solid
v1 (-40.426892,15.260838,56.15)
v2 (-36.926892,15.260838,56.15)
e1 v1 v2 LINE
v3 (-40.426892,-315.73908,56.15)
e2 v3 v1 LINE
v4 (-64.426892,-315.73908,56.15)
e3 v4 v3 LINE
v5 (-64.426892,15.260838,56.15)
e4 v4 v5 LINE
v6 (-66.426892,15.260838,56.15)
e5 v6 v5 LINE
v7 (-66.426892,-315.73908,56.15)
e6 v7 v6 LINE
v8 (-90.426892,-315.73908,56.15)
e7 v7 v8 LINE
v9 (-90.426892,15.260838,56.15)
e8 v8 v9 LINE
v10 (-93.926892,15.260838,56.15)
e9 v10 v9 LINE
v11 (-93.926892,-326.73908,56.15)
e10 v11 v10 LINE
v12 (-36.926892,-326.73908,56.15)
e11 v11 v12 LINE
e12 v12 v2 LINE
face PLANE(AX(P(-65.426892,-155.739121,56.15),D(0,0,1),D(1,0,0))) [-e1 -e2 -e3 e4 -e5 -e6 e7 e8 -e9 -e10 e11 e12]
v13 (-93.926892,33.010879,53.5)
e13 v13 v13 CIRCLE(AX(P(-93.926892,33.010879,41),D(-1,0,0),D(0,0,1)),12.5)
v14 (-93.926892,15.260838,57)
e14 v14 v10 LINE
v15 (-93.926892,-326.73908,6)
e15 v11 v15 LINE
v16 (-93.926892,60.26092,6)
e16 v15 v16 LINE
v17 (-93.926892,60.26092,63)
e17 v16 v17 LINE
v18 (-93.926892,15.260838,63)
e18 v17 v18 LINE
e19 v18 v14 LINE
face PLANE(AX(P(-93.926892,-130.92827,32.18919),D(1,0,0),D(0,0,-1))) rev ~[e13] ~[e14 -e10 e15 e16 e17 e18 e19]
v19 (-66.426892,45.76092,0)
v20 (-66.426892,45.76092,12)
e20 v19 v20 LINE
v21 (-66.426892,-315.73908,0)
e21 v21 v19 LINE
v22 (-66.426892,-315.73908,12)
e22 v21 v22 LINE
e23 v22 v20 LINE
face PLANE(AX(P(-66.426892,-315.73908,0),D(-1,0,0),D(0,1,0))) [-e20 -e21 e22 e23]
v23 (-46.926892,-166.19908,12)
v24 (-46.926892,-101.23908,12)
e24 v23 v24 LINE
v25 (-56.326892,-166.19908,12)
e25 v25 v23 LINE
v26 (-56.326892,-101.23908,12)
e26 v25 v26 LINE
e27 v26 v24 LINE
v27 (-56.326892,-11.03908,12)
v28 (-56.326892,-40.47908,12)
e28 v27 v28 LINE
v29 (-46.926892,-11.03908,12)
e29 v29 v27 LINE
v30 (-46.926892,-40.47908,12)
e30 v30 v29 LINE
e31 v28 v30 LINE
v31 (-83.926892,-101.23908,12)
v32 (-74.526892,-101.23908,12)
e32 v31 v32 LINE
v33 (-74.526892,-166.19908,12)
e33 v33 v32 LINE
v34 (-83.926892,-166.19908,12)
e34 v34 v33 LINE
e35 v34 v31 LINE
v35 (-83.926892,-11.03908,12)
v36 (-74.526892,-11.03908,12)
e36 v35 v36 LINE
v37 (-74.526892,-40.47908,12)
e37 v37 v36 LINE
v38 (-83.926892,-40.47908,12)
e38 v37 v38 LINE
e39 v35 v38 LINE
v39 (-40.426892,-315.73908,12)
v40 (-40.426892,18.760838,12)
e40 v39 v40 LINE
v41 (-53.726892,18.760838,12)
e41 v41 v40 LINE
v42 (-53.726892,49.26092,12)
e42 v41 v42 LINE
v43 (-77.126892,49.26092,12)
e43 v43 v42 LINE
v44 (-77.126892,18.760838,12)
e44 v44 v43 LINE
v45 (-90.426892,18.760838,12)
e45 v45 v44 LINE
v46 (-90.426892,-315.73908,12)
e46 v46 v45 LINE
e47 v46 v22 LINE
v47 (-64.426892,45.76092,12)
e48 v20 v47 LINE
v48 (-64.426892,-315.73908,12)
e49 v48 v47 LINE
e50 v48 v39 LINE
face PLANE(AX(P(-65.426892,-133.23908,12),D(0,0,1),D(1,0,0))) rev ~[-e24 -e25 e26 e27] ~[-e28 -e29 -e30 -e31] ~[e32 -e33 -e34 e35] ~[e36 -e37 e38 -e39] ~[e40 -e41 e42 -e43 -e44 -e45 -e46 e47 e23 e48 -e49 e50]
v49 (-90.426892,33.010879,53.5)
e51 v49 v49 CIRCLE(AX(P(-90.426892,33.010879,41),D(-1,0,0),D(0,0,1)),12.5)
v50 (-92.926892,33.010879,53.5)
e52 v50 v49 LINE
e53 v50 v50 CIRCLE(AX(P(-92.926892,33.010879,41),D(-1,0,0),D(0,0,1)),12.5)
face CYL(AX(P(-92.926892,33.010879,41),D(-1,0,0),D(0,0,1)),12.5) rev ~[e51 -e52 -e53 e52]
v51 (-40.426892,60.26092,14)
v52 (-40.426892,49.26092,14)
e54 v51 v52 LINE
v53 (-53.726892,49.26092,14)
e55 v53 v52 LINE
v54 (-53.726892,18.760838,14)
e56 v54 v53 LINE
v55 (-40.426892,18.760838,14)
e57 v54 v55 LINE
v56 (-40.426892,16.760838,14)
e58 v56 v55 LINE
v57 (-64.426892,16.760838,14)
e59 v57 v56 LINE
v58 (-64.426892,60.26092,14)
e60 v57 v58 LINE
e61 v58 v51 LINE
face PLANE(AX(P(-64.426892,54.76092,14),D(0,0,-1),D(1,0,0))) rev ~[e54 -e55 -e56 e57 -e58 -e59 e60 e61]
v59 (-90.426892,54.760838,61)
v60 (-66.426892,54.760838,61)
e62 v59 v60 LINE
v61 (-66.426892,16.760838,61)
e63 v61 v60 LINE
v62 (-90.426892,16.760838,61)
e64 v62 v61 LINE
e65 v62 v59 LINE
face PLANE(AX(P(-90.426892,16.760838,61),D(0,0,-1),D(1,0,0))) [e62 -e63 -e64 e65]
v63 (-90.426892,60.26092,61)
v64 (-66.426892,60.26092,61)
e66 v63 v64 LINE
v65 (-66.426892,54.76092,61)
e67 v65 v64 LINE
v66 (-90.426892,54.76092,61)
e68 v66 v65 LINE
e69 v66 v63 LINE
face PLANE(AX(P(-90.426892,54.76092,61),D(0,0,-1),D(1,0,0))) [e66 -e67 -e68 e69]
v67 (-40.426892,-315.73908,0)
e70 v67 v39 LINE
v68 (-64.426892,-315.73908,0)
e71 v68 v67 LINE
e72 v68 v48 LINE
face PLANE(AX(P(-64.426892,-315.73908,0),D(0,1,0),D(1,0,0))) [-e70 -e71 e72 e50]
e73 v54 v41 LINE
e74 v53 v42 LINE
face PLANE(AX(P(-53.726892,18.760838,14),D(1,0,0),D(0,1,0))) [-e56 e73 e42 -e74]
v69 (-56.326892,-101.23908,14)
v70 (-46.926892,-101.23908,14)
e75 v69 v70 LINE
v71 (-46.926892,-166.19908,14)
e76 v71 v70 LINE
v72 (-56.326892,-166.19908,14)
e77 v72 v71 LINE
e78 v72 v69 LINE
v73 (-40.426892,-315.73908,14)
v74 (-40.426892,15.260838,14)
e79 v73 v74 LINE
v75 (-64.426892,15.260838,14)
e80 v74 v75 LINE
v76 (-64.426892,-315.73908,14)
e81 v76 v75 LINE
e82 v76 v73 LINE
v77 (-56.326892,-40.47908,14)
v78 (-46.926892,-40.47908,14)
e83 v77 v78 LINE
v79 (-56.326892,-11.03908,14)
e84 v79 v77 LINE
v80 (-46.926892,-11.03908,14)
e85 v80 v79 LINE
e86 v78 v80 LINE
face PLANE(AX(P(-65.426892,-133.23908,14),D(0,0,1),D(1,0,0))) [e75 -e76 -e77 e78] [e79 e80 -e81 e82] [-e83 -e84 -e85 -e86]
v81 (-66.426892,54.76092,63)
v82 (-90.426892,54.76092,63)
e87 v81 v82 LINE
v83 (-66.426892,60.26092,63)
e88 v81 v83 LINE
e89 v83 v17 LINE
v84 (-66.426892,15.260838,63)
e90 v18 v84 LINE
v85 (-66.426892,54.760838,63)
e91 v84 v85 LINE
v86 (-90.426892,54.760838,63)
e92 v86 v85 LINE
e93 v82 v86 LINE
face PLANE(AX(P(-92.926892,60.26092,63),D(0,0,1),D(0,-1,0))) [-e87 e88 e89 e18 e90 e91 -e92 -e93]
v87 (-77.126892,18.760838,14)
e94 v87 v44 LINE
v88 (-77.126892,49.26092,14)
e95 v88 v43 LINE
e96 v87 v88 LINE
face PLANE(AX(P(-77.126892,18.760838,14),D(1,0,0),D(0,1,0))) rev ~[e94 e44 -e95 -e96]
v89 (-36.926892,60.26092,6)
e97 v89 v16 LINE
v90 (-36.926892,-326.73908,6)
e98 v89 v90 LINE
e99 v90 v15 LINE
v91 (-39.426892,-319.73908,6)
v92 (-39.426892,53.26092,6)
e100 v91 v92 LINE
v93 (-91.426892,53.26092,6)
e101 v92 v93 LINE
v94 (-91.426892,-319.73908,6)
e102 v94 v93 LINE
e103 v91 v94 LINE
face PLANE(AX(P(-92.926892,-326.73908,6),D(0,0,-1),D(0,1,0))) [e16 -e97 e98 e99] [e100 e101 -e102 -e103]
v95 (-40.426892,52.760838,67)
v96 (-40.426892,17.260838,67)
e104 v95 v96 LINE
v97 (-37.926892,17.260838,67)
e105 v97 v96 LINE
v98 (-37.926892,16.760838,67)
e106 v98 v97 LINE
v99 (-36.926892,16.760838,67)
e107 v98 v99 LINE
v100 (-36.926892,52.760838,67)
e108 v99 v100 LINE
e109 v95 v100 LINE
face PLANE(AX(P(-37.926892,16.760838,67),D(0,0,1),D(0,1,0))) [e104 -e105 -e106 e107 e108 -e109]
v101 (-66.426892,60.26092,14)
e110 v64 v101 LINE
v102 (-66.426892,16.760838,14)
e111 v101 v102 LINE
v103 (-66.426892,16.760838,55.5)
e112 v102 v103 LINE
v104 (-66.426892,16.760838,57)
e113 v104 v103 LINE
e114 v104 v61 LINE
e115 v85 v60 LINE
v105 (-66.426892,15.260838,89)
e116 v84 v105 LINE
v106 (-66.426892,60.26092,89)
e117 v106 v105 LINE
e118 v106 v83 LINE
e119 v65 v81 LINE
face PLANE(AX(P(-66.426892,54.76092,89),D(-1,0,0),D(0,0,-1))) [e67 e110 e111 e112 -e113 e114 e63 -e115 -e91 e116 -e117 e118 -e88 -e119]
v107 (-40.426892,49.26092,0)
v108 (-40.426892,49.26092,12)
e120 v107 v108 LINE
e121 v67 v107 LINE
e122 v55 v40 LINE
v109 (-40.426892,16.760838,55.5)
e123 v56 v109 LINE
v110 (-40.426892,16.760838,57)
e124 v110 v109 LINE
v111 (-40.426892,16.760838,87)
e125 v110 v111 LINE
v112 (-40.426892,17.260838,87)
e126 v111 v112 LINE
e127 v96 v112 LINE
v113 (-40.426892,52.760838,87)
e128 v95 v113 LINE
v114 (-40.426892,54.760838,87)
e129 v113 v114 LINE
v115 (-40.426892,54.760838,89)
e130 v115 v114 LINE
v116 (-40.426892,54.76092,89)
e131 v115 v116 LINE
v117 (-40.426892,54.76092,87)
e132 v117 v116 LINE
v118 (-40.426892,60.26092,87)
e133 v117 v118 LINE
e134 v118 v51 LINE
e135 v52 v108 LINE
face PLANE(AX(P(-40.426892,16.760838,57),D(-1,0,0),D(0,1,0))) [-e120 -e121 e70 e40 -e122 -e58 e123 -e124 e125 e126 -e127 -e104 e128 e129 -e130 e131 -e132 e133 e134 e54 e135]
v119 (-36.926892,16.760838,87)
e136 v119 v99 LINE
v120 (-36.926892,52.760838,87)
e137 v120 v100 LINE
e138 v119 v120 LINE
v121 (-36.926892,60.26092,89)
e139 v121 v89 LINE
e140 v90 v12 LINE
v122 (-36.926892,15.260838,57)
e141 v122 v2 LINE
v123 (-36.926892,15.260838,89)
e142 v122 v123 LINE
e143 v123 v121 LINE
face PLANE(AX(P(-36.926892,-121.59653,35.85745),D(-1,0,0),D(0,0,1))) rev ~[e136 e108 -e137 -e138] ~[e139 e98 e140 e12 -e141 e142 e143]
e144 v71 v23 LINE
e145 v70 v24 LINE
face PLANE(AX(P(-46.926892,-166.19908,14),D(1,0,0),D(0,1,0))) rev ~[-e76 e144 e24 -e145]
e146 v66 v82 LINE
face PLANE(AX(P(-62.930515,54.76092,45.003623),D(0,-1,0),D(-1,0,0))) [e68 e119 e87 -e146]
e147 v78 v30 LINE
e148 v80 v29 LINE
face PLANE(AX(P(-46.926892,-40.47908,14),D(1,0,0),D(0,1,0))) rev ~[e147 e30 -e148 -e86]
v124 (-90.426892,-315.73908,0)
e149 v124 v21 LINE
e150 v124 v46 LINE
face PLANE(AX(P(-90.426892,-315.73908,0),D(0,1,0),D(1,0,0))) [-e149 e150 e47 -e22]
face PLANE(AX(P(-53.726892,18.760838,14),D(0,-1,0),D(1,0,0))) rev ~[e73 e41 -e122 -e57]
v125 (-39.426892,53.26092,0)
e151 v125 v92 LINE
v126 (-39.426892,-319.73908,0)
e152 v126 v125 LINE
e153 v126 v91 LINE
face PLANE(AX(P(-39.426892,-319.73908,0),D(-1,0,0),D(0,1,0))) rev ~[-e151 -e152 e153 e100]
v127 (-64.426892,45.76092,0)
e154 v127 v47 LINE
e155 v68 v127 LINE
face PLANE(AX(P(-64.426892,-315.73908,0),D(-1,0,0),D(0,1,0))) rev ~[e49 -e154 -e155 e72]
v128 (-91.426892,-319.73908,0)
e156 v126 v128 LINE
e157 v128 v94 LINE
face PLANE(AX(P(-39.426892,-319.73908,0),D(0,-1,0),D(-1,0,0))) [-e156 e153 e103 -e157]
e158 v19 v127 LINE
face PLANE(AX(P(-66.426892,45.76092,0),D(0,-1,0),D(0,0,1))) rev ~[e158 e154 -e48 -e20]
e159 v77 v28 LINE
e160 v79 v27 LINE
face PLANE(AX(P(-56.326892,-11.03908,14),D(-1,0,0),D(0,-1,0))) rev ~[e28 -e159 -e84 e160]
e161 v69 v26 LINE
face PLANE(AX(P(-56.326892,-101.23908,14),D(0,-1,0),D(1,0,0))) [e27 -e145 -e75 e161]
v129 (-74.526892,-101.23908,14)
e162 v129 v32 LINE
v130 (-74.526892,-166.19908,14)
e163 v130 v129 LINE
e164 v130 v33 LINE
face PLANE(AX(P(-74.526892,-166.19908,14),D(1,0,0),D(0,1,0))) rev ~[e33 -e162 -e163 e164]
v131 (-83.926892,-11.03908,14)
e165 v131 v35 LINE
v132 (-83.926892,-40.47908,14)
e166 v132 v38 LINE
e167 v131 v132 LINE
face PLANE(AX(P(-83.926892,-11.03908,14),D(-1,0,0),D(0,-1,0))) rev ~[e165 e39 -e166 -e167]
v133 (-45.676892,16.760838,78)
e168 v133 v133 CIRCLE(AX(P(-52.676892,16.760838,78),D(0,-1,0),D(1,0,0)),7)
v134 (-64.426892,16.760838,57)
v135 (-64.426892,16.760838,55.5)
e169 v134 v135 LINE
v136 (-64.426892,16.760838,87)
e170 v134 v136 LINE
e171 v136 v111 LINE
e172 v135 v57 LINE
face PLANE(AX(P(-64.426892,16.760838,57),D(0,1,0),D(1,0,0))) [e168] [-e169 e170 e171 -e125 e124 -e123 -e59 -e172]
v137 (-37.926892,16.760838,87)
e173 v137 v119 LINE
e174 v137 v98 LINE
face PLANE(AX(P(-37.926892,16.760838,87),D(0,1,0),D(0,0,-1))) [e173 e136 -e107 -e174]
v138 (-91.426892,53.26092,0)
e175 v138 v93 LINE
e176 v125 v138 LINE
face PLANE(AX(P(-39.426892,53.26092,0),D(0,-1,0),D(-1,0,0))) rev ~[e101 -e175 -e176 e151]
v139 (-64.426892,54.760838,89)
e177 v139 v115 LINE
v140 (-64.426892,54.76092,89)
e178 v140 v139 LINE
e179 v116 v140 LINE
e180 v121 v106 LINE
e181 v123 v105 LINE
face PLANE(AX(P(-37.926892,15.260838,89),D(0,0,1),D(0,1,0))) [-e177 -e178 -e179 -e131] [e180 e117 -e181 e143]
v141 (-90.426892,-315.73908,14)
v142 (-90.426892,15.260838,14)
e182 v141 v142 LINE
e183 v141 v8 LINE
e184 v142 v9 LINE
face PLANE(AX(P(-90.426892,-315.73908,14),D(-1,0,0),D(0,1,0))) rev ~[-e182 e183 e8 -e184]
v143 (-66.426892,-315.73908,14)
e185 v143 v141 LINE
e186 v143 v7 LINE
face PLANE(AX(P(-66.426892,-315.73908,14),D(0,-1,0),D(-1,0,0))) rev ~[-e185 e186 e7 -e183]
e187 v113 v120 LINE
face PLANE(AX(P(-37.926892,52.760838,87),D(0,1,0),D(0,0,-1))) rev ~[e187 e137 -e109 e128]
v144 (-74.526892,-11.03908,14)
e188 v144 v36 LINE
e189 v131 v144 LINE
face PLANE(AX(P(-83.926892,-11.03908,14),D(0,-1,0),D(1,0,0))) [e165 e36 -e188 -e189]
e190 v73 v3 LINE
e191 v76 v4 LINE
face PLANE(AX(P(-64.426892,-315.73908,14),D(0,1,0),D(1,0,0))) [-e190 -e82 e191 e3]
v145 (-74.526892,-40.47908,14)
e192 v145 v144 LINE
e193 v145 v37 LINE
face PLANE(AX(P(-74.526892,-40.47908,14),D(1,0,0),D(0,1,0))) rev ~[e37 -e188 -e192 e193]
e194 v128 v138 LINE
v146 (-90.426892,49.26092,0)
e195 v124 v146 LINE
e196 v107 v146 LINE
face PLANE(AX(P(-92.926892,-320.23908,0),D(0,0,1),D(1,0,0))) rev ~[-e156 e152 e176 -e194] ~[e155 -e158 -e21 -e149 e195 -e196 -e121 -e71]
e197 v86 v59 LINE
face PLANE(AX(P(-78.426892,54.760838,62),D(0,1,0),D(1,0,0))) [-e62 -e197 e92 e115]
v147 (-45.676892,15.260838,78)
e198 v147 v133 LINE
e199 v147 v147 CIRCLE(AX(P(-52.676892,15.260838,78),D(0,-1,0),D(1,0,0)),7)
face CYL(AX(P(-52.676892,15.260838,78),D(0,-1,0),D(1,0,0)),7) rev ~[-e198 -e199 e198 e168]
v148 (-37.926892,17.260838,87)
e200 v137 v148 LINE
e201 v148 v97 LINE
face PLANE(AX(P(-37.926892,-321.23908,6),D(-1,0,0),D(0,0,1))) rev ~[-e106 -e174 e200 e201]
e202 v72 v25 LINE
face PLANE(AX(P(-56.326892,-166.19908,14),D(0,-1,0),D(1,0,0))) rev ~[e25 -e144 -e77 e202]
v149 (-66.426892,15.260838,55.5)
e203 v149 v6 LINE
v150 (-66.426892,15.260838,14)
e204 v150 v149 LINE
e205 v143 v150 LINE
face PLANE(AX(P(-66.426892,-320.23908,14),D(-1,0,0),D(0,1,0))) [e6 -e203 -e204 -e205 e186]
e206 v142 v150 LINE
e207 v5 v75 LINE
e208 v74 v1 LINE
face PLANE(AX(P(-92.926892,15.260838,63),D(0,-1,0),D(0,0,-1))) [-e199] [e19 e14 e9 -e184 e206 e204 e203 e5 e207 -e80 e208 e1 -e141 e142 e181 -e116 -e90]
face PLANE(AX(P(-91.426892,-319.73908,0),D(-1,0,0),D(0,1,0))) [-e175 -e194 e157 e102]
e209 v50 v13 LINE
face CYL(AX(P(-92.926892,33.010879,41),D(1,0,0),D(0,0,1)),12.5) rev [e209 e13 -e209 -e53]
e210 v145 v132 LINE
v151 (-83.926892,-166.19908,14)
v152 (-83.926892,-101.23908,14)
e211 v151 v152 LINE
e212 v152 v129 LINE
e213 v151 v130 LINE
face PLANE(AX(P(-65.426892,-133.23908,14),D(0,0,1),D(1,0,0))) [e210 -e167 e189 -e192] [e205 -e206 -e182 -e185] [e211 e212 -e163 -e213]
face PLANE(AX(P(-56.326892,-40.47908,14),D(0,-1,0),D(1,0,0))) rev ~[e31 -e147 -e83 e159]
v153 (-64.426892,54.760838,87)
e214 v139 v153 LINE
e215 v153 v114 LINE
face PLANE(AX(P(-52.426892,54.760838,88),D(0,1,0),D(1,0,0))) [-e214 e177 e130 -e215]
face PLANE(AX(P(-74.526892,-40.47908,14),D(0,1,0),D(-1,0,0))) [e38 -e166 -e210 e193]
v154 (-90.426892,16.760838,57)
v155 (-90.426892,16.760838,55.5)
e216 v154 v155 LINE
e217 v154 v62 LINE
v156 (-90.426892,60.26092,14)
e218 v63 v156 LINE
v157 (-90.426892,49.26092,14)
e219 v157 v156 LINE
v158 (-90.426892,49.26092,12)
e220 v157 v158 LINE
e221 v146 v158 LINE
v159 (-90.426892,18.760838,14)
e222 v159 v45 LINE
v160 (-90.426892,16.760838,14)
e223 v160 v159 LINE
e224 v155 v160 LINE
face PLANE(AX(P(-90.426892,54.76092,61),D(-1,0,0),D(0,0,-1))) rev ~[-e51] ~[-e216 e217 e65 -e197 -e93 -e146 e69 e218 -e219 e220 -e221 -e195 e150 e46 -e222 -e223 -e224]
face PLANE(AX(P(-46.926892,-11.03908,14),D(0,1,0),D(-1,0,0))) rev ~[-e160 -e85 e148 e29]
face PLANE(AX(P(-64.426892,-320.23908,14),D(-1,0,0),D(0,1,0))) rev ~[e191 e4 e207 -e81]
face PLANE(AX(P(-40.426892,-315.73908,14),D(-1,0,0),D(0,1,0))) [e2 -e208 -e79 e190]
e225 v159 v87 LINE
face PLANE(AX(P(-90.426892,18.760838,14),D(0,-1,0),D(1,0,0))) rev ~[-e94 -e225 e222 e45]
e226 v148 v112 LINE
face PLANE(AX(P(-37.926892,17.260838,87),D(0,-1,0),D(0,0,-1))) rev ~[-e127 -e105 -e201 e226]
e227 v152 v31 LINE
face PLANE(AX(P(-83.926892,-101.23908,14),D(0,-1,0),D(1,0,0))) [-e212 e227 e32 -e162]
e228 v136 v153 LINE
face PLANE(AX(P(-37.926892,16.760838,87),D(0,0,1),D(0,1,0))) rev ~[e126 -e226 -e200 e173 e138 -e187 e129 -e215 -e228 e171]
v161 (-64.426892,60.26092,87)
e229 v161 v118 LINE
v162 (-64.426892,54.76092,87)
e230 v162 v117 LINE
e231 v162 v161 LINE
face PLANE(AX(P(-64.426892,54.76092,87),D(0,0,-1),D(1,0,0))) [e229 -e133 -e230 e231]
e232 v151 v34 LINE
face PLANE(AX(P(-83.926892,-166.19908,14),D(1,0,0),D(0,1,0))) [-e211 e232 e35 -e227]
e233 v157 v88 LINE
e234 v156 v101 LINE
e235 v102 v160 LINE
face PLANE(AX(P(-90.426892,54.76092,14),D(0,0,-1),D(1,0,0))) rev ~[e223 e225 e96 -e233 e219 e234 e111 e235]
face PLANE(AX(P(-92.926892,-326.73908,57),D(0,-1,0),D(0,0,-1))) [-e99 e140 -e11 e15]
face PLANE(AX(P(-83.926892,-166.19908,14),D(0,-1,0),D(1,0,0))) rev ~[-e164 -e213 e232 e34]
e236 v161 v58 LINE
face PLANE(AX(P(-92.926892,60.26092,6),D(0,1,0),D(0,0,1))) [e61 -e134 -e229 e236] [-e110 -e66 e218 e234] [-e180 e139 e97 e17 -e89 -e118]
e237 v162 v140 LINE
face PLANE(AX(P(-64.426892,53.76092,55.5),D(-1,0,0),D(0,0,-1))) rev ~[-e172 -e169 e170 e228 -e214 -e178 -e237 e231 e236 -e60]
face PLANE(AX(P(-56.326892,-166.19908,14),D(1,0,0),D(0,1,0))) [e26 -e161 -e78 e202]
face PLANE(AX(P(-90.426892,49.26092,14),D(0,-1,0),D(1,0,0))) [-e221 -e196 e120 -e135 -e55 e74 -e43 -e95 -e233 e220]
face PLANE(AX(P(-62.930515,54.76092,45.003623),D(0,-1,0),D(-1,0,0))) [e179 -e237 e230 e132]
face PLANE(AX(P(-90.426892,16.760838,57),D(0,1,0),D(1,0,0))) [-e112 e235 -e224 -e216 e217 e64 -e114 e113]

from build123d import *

# Parameters (mm, degrees)
SZKIC1_W                     = 53
SZKIC1_H                     = 374
SZKIC1_W_2                   = 24
SZKIC1_H_2                   = 365
DODANIE_WYCI_GNI_CIE2_DEPTH  = 12
SZKIC2_W                     = 12
SZKIC2_H                     = 3.5
WYTNIJ_WYCI_GNI_CIE1_DEPTH   = 2
SZKIC3_W                     = 53
SZKIC3_H                     = 374
DODANIE_WYCI_GNI_CIE3_DEPTH  = 2
SZKIC4_W                     = 13.3
SZKIC4_H                     = 30.500081729
SZKIC4_W_2                   = 9.4
SZKIC4_H_2                   = 64.96
WYTNIJ_WYCI_GNI_CIE2_DEPTH   = 2
SZKIC5_W                     = 2
SZKIC5_H                     = 374
DODANIE_WYCI_GNI_CIE4_DEPTH  = 43
DODANIE_WYCI_GNI_CIE5_DEPTH  = 41.5
SZKIC7_W                     = 25.5
SZKIC7_H                     = 38.500081729
DODANIE_WYCI_GNI_CIE6_DEPTH  = 1.5
DODANIE_WYCI_GNI_CIE7_DEPTH  = 43
DODANIE_WYCI_GNI_CIE8_DEPTH  = 43
SZKIC15_W                    = 57
SZKIC15_H                    = 374
DODANIE_WYCI_GNI_CIE10_DEPTH = 1
SZKIC16_W                    = 57
SZKIC16_H                    = 374
DODANIE_WYCI_GNI_CIE11_DEPTH = 1
SZKIC17_W                    = 55
SZKIC17_H                    = 57
SZKIC17_W_2                  = 24
SZKIC17_H_2                  = 41.5
DODANIE_WYCI_GNI_CIE12_DEPTH = 1
SZKIC18_W                    = 55
SZKIC18_H                    = 57
DODANIE_WYCI_GNI_CIE13_DEPTH = 1
SZKIC19_W                    = 55
SZKIC19_H                    = 376
SZKIC19_W_2                  = 52
SZKIC19_H_2                  = 373
WYTNIJ_WYCI_GNI_CIE7_DEPTH   = 6
SZKIC23_W                    = 24
SZKIC23_H                    = 38.000081729
WYTNIJ_WYCI_GNI_CIE11_DEPTH  = 10
DODANIE_WYCI_GNI_CIE14_DEPTH = 32
SZKIC25_W                    = 24
SZKIC25_H                    = 2
DODANIE_WYCI_GNI_CIE15_DEPTH = 38
SZKIC27_R                    = 7
WYTNIJ_WYCI_GNI_CIE12_DEPTH  = 10
SZKIC29_W                    = 20
SZKIC29_H                    = 35.5
WYTNIJ_WYCI_GNI_CIE13_DEPTH  = 3
DODANIE_WYCI_GNI_CIE16_DEPTH = 6
SZKIC31_W                    = 24
SZKIC31_H                    = 2
DODANIE_WYCI_GNI_CIE17_DEPTH = 38
SZKIC32_R                    = 12.5
WYTNIJ_WYCI_GNI_CIE14_DEPTH  = 3
SZKIC33_W                    = 24
SZKIC33_H                    = 73
SZKIC33_H_2                  = 47
DODANIE_WYCI_GNI_CIE18_DEPTH = 5.5
SZKIC34_W                    = 55
SZKIC34_H                    = 51
DODANIE_WYCI_GNI_CIE19_DEPTH = 5.5
SZKIC35_W                    = 20
SZKIC35_H                    = 36
DODANIE_WYCI_GNI_CIE20_DEPTH = 1
SZKIC36_R                    = 12.5
DODANIE_WYCI_GNI_CIE21_DEPTH = 1
SZKIC37_W                    = 57
SZKIC37_H                    = 341.999918271
WYTNIJ_WYCI_GNI_CIE15_DEPTH  = 0.85


with BuildPart() as part:
    # Szkic1 → Dodanie-wyciągnięcie2 (new body)
    with BuildSketch(Plane.XY):
        with Locations((-65.426891924, -133.239080048)):
            Rectangle(SZKIC1_W, SZKIC1_H)
        with Locations((-78.426891924, -133.239080048)):
            Rectangle(SZKIC1_W_2, SZKIC1_H_2, mode=Mode.SUBTRACT)
        with Locations((-52.426891924, -133.239080048)):
            Rectangle(SZKIC1_W_2, SZKIC1_H_2, mode=Mode.SUBTRACT)
    extrude(amount=DODANIE_WYCI_GNI_CIE2_DEPTH)

    # Szkic2 → Wytnij-wyciągnięcie1 (cut)
    with BuildSketch(Plane.ZY.offset(66.426891924)):
        with Locations((6, 47.510919952)):
            Rectangle(SZKIC2_W, SZKIC2_H)
    extrude(amount=-WYTNIJ_WYCI_GNI_CIE1_DEPTH, mode=Mode.SUBTRACT)

    # Szkic3 → Dodanie-wyciągnięcie3 (add)
    with BuildSketch(Plane.XY.offset(12)):
        with Locations((-65.426891924, -133.239080048)):
            Rectangle(SZKIC3_W, SZKIC3_H)
    extrude(amount=DODANIE_WYCI_GNI_CIE3_DEPTH)

    # Szkic4 → Wytnij-wyciągnięcie2 (cut)
    with BuildSketch(Plane.XY.offset(14)):
        Polygon((-46.926891924, -11.039080048), (-56.326891924, -11.039080048), (-56.326891924, -35.399080048), (-56.326891924, -40.479080048), (-46.926891924, -40.479080048), (-46.926891924, -35.399080048), align=None)
        with Locations((-47.076891924, 34.010879088)):
            Rectangle(SZKIC4_W, SZKIC4_H)
        with Locations((-83.776891924, 34.010879088)):
            Rectangle(SZKIC4_W, SZKIC4_H)
        Polygon((-74.526891924, -35.399080048), (-74.526891924, -40.479080048), (-83.926891924, -40.479080048), (-83.926891924, -35.399080048), (-83.926891924, -11.039080048), (-74.526891924, -11.039080048), align=None)
        with Locations((-51.626891924, -133.719080048)):
            Rectangle(SZKIC4_W_2, SZKIC4_H_2)
        with Locations((-79.226891924, -133.719080048)):
            Rectangle(SZKIC4_W_2, SZKIC4_H_2)
    extrude(amount=-WYTNIJ_WYCI_GNI_CIE2_DEPTH, mode=Mode.SUBTRACT)

    # Szkic5 → Dodanie-wyciągnięcie4 (add)
    with BuildSketch(Plane.XY.offset(14)):
        with Locations((-65.426891924, -133.239080048)):
            Rectangle(SZKIC5_W, SZKIC5_H)
    extrude(amount=DODANIE_WYCI_GNI_CIE4_DEPTH)

    # Szkic6 → Dodanie-wyciągnięcie5 (add)
    with BuildSketch(Plane.XY.offset(14)):
        Polygon((-64.426891924, 16.760838223), (-40.426891924, 16.760838223), (-40.426891924, 53.760919952), (-38.926891924, 53.760919952), (-38.926891924, 15.260838223), (-64.426891924, 15.260838223), align=None)
        Polygon((-90.426891924, 53.760919952), (-91.926891924, 53.760919952), (-91.926891924, 15.260838223), (-66.426891924, 15.260838223), (-66.426891924, 16.760838223), (-90.426891924, 16.760838223), align=None)
    extrude(amount=DODANIE_WYCI_GNI_CIE5_DEPTH)

    # Szkic7 → Dodanie-wyciągnięcie6 (add)
    with BuildSketch(Plane.XY.offset(55.5)):
        with Locations((-51.676891924, 34.510879088)):
            Rectangle(SZKIC7_W, SZKIC7_H)
        with Locations((-79.176891924, 34.510879088)):
            Rectangle(SZKIC7_W, SZKIC7_H)
    extrude(amount=DODANIE_WYCI_GNI_CIE6_DEPTH)

    # Szkic10 → Dodanie-wyciągnięcie7 (add)
    with BuildSketch(Plane.XY.offset(14)):
        Polygon((-91.926891924, 15.260838223), (-91.926891924, -320.239080048), (-66.426891924, -320.239080048), (-66.426891924, -315.739080048), (-90.426891924, -315.739080048), (-90.426891924, 15.260838223), align=None)
    extrude(amount=DODANIE_WYCI_GNI_CIE7_DEPTH)

    # Szkic11 → Dodanie-wyciągnięcie8 (add)
    with BuildSketch(Plane.XY.offset(14)):
        Polygon((-38.926891924, 15.260838223), (-38.926891924, -320.239080048), (-64.426891924, -320.239080048), (-64.426891924, -315.739080048), (-40.426891924, -315.739080048), (-40.426891924, 15.260838223), align=None)
    extrude(amount=DODANIE_WYCI_GNI_CIE8_DEPTH)

    # Szkic15 → Dodanie-wyciągnięcie10 (add)
    with BuildSketch(Plane.ZY.offset(91.926891924)):
        with Locations((28.5, -133.239080048)):
            Rectangle(SZKIC15_W, SZKIC15_H)
    extrude(amount=DODANIE_WYCI_GNI_CIE10_DEPTH)

    # Szkic16 → Dodanie-wyciągnięcie11 (add)
    with BuildSketch(Plane(origin=(-38.926891924, 0, 0), x_dir=(0, 0, -1), z_dir=(1, 0, 0))):
        with Locations((-28.5, -133.239080048)):
            Rectangle(SZKIC16_W, SZKIC16_H)
    extrude(amount=DODANIE_WYCI_GNI_CIE11_DEPTH)

    # Szkic17 → Dodanie-wyciągnięcie12 (add)
    with BuildSketch(Plane(origin=(0, 53.760919952, 0), x_dir=(1, 0, 0), z_dir=(0, 1, 0))):
        with Locations((-65.426891924, -28.5)):
            Rectangle(SZKIC17_W, SZKIC17_H)
        with Locations((-52.426891924, -34.75)):
            Rectangle(SZKIC17_W_2, SZKIC17_H_2, mode=Mode.SUBTRACT)
        with Locations((-78.426891924, -34.75)):
            Rectangle(SZKIC17_W_2, SZKIC17_H_2, mode=Mode.SUBTRACT)
    extrude(amount=DODANIE_WYCI_GNI_CIE12_DEPTH)

    # Szkic18 → Dodanie-wyciągnięcie13 (add)
    with BuildSketch(Plane.XZ.offset(320.239080048)):
        with Locations((-65.426891924, 28.5)):
            Rectangle(SZKIC18_W, SZKIC18_H)
    extrude(amount=DODANIE_WYCI_GNI_CIE13_DEPTH)

    # Szkic19 → Wytnij-wyciągnięcie7 (cut)
    with BuildSketch(Plane(origin=(0, 0, 0), x_dir=(-1, 0, 0), z_dir=(0, 0, -1))):
        with Locations((65.426891924, -133.239080048)):
            Rectangle(SZKIC19_W, SZKIC19_H)
        with Locations((65.426891924, -133.239080048)):
            Rectangle(SZKIC19_W_2, SZKIC19_H_2, mode=Mode.SUBTRACT)
    extrude(amount=-WYTNIJ_WYCI_GNI_CIE7_DEPTH, mode=Mode.SUBTRACT)

    # Szkic23 → Wytnij-wyciągnięcie11 (cut)
    with BuildSketch(Plane.XY.offset(57)):
        with Locations((-52.426891924, 35.760879088)):
            Rectangle(SZKIC23_W, SZKIC23_H)
        with Locations((-78.426891924, 35.760879088)):
            Rectangle(SZKIC23_W, SZKIC23_H)
    extrude(amount=-WYTNIJ_WYCI_GNI_CIE11_DEPTH, mode=Mode.SUBTRACT)

    # Szkic24 → Dodanie-wyciągnięcie14 (add)
    with BuildSketch(Plane.XY.offset(57)):
        Polygon((-40.426891924, 54.760919952), (-37.926891924, 54.760919952), (-37.926891924, 15.260838223), (-66.426891924, 15.260838223), (-66.426891924, 16.760838223), (-66.426891924, 54.760919952), (-64.426891924, 54.760919952), (-64.426891924, 16.760838223), (-40.426891924, 16.760838223), align=None)
    extrude(amount=DODANIE_WYCI_GNI_CIE14_DEPTH)

    # Szkic25 → Dodanie-wyciągnięcie15 (add)
    with BuildSketch(Plane(origin=(0, 16.760838223, 0), x_dir=(1, 0, 0), z_dir=(0, 1, 0))):
        with Locations((-52.426891924, -88)):
            Rectangle(SZKIC25_W, SZKIC25_H)
    extrude(amount=DODANIE_WYCI_GNI_CIE15_DEPTH)

    # Szkic27 → Wytnij-wyciągnięcie12 (cut)
    with BuildSketch(Plane.XZ.offset(-15.260838223)):
        with Locations((-52.676891924, 78)):
            Circle(SZKIC27_R)
    extrude(amount=-WYTNIJ_WYCI_GNI_CIE12_DEPTH, mode=Mode.SUBTRACT)

    # Szkic29 → Wytnij-wyciągnięcie13 (cut)
    with BuildSketch(Plane(origin=(-37.926891924, 0, 0), x_dir=(0, 0, -1), z_dir=(1, 0, 0))):
        with Locations((-77, 35.010838223)):
            Rectangle(SZKIC29_W, SZKIC29_H)
    extrude(amount=-WYTNIJ_WYCI_GNI_CIE13_DEPTH, mode=Mode.SUBTRACT)

    # Szkic30 → Dodanie-wyciągnięcie16 (add)
    with BuildSketch(Plane.XY.offset(57)):
        Polygon((-66.426891924, 16.760838223), (-66.426891924, 15.260838223), (-92.926891924, 15.260838223), (-92.926891924, 54.760919952), (-90.426891924, 54.760919952), (-90.426891924, 16.760838223), align=None)
    extrude(amount=DODANIE_WYCI_GNI_CIE16_DEPTH)

    # Szkic31 → Dodanie-wyciągnięcie17 (add)
    with BuildSketch(Plane(origin=(0, 16.760838223, 0), x_dir=(1, 0, 0), z_dir=(0, 1, 0))):
        with Locations((-78.426891924, -62)):
            Rectangle(SZKIC31_W, SZKIC31_H)
    extrude(amount=DODANIE_WYCI_GNI_CIE17_DEPTH)

    # Szkic32 → Wytnij-wyciągnięcie14 (cut)
    with BuildSketch(Plane.ZY.offset(92.926891924)):
        with Locations((41, 33.010879088)):
            Circle(SZKIC32_R)
    extrude(amount=-WYTNIJ_WYCI_GNI_CIE14_DEPTH, mode=Mode.SUBTRACT)

    # Szkic33 → Dodanie-wyciągnięcie18 (add)
    with BuildSketch(Plane(origin=(0, 54.760919952, 0), x_dir=(1, 0, 0), z_dir=(0, 1, 0))):
        Polygon((-37.926891924, -89), (-66.426891924, -89), (-66.426891924, -63), (-92.926891924, -63), (-92.926891924, -6), (-37.926891924, -6), align=None)
        with Locations((-52.426891924, -50.5)):
            Rectangle(SZKIC33_W, SZKIC33_H, mode=Mode.SUBTRACT)
        with Locations((-78.426891924, -37.5)):
            Rectangle(SZKIC33_W, SZKIC33_H_2, mode=Mode.SUBTRACT)
    extrude(amount=DODANIE_WYCI_GNI_CIE18_DEPTH)

    # Szkic34 → Dodanie-wyciągnięcie19 (add)
    with BuildSketch(Plane.XZ.offset(321.239080048)):
        with Locations((-65.426891924, 31.5)):
            Rectangle(SZKIC34_W, SZKIC34_H)
    extrude(amount=DODANIE_WYCI_GNI_CIE19_DEPTH)

    # Szkic35 → Dodanie-wyciągnięcie20 (add)
    with BuildSketch(Plane(origin=(-37.926891924, 0, 0), x_dir=(0, 0, -1), z_dir=(1, 0, 0))):
        Polygon((-57, -326.739080048), (-57, 15.260838223), (-89, 15.260838223), (-89, 60.260919952), (-6, 60.260919952), (-6, -326.739080048), align=None)
        with Locations((-77, 34.760838223)):
            Rectangle(SZKIC35_W, SZKIC35_H, mode=Mode.SUBTRACT)
    extrude(amount=DODANIE_WYCI_GNI_CIE20_DEPTH)

    # Szkic36 → Dodanie-wyciągnięcie21 (add)
    with BuildSketch(Plane.ZY.offset(92.926891924)):
        Polygon((63, 60.260919952), (63, 15.260838223), (57, 15.260838223), (57, -326.739080048), (6, -326.739080048), (6, 60.260919952), align=None)
        with Locations((41, 33.010879088)):
            Circle(SZKIC36_R, mode=Mode.SUBTRACT)
    extrude(amount=DODANIE_WYCI_GNI_CIE21_DEPTH)

    # Szkic37 → Wytnij-wyciągnięcie15 (cut)
    with BuildSketch(Plane.XY.offset(57)):
        with Locations((-65.426891924, -155.739120912)):
            Rectangle(SZKIC37_W, SZKIC37_H)
    extrude(amount=-WYTNIJ_WYCI_GNI_CIE15_DEPTH, mode=Mode.SUBTRACT)


solid = part.part
